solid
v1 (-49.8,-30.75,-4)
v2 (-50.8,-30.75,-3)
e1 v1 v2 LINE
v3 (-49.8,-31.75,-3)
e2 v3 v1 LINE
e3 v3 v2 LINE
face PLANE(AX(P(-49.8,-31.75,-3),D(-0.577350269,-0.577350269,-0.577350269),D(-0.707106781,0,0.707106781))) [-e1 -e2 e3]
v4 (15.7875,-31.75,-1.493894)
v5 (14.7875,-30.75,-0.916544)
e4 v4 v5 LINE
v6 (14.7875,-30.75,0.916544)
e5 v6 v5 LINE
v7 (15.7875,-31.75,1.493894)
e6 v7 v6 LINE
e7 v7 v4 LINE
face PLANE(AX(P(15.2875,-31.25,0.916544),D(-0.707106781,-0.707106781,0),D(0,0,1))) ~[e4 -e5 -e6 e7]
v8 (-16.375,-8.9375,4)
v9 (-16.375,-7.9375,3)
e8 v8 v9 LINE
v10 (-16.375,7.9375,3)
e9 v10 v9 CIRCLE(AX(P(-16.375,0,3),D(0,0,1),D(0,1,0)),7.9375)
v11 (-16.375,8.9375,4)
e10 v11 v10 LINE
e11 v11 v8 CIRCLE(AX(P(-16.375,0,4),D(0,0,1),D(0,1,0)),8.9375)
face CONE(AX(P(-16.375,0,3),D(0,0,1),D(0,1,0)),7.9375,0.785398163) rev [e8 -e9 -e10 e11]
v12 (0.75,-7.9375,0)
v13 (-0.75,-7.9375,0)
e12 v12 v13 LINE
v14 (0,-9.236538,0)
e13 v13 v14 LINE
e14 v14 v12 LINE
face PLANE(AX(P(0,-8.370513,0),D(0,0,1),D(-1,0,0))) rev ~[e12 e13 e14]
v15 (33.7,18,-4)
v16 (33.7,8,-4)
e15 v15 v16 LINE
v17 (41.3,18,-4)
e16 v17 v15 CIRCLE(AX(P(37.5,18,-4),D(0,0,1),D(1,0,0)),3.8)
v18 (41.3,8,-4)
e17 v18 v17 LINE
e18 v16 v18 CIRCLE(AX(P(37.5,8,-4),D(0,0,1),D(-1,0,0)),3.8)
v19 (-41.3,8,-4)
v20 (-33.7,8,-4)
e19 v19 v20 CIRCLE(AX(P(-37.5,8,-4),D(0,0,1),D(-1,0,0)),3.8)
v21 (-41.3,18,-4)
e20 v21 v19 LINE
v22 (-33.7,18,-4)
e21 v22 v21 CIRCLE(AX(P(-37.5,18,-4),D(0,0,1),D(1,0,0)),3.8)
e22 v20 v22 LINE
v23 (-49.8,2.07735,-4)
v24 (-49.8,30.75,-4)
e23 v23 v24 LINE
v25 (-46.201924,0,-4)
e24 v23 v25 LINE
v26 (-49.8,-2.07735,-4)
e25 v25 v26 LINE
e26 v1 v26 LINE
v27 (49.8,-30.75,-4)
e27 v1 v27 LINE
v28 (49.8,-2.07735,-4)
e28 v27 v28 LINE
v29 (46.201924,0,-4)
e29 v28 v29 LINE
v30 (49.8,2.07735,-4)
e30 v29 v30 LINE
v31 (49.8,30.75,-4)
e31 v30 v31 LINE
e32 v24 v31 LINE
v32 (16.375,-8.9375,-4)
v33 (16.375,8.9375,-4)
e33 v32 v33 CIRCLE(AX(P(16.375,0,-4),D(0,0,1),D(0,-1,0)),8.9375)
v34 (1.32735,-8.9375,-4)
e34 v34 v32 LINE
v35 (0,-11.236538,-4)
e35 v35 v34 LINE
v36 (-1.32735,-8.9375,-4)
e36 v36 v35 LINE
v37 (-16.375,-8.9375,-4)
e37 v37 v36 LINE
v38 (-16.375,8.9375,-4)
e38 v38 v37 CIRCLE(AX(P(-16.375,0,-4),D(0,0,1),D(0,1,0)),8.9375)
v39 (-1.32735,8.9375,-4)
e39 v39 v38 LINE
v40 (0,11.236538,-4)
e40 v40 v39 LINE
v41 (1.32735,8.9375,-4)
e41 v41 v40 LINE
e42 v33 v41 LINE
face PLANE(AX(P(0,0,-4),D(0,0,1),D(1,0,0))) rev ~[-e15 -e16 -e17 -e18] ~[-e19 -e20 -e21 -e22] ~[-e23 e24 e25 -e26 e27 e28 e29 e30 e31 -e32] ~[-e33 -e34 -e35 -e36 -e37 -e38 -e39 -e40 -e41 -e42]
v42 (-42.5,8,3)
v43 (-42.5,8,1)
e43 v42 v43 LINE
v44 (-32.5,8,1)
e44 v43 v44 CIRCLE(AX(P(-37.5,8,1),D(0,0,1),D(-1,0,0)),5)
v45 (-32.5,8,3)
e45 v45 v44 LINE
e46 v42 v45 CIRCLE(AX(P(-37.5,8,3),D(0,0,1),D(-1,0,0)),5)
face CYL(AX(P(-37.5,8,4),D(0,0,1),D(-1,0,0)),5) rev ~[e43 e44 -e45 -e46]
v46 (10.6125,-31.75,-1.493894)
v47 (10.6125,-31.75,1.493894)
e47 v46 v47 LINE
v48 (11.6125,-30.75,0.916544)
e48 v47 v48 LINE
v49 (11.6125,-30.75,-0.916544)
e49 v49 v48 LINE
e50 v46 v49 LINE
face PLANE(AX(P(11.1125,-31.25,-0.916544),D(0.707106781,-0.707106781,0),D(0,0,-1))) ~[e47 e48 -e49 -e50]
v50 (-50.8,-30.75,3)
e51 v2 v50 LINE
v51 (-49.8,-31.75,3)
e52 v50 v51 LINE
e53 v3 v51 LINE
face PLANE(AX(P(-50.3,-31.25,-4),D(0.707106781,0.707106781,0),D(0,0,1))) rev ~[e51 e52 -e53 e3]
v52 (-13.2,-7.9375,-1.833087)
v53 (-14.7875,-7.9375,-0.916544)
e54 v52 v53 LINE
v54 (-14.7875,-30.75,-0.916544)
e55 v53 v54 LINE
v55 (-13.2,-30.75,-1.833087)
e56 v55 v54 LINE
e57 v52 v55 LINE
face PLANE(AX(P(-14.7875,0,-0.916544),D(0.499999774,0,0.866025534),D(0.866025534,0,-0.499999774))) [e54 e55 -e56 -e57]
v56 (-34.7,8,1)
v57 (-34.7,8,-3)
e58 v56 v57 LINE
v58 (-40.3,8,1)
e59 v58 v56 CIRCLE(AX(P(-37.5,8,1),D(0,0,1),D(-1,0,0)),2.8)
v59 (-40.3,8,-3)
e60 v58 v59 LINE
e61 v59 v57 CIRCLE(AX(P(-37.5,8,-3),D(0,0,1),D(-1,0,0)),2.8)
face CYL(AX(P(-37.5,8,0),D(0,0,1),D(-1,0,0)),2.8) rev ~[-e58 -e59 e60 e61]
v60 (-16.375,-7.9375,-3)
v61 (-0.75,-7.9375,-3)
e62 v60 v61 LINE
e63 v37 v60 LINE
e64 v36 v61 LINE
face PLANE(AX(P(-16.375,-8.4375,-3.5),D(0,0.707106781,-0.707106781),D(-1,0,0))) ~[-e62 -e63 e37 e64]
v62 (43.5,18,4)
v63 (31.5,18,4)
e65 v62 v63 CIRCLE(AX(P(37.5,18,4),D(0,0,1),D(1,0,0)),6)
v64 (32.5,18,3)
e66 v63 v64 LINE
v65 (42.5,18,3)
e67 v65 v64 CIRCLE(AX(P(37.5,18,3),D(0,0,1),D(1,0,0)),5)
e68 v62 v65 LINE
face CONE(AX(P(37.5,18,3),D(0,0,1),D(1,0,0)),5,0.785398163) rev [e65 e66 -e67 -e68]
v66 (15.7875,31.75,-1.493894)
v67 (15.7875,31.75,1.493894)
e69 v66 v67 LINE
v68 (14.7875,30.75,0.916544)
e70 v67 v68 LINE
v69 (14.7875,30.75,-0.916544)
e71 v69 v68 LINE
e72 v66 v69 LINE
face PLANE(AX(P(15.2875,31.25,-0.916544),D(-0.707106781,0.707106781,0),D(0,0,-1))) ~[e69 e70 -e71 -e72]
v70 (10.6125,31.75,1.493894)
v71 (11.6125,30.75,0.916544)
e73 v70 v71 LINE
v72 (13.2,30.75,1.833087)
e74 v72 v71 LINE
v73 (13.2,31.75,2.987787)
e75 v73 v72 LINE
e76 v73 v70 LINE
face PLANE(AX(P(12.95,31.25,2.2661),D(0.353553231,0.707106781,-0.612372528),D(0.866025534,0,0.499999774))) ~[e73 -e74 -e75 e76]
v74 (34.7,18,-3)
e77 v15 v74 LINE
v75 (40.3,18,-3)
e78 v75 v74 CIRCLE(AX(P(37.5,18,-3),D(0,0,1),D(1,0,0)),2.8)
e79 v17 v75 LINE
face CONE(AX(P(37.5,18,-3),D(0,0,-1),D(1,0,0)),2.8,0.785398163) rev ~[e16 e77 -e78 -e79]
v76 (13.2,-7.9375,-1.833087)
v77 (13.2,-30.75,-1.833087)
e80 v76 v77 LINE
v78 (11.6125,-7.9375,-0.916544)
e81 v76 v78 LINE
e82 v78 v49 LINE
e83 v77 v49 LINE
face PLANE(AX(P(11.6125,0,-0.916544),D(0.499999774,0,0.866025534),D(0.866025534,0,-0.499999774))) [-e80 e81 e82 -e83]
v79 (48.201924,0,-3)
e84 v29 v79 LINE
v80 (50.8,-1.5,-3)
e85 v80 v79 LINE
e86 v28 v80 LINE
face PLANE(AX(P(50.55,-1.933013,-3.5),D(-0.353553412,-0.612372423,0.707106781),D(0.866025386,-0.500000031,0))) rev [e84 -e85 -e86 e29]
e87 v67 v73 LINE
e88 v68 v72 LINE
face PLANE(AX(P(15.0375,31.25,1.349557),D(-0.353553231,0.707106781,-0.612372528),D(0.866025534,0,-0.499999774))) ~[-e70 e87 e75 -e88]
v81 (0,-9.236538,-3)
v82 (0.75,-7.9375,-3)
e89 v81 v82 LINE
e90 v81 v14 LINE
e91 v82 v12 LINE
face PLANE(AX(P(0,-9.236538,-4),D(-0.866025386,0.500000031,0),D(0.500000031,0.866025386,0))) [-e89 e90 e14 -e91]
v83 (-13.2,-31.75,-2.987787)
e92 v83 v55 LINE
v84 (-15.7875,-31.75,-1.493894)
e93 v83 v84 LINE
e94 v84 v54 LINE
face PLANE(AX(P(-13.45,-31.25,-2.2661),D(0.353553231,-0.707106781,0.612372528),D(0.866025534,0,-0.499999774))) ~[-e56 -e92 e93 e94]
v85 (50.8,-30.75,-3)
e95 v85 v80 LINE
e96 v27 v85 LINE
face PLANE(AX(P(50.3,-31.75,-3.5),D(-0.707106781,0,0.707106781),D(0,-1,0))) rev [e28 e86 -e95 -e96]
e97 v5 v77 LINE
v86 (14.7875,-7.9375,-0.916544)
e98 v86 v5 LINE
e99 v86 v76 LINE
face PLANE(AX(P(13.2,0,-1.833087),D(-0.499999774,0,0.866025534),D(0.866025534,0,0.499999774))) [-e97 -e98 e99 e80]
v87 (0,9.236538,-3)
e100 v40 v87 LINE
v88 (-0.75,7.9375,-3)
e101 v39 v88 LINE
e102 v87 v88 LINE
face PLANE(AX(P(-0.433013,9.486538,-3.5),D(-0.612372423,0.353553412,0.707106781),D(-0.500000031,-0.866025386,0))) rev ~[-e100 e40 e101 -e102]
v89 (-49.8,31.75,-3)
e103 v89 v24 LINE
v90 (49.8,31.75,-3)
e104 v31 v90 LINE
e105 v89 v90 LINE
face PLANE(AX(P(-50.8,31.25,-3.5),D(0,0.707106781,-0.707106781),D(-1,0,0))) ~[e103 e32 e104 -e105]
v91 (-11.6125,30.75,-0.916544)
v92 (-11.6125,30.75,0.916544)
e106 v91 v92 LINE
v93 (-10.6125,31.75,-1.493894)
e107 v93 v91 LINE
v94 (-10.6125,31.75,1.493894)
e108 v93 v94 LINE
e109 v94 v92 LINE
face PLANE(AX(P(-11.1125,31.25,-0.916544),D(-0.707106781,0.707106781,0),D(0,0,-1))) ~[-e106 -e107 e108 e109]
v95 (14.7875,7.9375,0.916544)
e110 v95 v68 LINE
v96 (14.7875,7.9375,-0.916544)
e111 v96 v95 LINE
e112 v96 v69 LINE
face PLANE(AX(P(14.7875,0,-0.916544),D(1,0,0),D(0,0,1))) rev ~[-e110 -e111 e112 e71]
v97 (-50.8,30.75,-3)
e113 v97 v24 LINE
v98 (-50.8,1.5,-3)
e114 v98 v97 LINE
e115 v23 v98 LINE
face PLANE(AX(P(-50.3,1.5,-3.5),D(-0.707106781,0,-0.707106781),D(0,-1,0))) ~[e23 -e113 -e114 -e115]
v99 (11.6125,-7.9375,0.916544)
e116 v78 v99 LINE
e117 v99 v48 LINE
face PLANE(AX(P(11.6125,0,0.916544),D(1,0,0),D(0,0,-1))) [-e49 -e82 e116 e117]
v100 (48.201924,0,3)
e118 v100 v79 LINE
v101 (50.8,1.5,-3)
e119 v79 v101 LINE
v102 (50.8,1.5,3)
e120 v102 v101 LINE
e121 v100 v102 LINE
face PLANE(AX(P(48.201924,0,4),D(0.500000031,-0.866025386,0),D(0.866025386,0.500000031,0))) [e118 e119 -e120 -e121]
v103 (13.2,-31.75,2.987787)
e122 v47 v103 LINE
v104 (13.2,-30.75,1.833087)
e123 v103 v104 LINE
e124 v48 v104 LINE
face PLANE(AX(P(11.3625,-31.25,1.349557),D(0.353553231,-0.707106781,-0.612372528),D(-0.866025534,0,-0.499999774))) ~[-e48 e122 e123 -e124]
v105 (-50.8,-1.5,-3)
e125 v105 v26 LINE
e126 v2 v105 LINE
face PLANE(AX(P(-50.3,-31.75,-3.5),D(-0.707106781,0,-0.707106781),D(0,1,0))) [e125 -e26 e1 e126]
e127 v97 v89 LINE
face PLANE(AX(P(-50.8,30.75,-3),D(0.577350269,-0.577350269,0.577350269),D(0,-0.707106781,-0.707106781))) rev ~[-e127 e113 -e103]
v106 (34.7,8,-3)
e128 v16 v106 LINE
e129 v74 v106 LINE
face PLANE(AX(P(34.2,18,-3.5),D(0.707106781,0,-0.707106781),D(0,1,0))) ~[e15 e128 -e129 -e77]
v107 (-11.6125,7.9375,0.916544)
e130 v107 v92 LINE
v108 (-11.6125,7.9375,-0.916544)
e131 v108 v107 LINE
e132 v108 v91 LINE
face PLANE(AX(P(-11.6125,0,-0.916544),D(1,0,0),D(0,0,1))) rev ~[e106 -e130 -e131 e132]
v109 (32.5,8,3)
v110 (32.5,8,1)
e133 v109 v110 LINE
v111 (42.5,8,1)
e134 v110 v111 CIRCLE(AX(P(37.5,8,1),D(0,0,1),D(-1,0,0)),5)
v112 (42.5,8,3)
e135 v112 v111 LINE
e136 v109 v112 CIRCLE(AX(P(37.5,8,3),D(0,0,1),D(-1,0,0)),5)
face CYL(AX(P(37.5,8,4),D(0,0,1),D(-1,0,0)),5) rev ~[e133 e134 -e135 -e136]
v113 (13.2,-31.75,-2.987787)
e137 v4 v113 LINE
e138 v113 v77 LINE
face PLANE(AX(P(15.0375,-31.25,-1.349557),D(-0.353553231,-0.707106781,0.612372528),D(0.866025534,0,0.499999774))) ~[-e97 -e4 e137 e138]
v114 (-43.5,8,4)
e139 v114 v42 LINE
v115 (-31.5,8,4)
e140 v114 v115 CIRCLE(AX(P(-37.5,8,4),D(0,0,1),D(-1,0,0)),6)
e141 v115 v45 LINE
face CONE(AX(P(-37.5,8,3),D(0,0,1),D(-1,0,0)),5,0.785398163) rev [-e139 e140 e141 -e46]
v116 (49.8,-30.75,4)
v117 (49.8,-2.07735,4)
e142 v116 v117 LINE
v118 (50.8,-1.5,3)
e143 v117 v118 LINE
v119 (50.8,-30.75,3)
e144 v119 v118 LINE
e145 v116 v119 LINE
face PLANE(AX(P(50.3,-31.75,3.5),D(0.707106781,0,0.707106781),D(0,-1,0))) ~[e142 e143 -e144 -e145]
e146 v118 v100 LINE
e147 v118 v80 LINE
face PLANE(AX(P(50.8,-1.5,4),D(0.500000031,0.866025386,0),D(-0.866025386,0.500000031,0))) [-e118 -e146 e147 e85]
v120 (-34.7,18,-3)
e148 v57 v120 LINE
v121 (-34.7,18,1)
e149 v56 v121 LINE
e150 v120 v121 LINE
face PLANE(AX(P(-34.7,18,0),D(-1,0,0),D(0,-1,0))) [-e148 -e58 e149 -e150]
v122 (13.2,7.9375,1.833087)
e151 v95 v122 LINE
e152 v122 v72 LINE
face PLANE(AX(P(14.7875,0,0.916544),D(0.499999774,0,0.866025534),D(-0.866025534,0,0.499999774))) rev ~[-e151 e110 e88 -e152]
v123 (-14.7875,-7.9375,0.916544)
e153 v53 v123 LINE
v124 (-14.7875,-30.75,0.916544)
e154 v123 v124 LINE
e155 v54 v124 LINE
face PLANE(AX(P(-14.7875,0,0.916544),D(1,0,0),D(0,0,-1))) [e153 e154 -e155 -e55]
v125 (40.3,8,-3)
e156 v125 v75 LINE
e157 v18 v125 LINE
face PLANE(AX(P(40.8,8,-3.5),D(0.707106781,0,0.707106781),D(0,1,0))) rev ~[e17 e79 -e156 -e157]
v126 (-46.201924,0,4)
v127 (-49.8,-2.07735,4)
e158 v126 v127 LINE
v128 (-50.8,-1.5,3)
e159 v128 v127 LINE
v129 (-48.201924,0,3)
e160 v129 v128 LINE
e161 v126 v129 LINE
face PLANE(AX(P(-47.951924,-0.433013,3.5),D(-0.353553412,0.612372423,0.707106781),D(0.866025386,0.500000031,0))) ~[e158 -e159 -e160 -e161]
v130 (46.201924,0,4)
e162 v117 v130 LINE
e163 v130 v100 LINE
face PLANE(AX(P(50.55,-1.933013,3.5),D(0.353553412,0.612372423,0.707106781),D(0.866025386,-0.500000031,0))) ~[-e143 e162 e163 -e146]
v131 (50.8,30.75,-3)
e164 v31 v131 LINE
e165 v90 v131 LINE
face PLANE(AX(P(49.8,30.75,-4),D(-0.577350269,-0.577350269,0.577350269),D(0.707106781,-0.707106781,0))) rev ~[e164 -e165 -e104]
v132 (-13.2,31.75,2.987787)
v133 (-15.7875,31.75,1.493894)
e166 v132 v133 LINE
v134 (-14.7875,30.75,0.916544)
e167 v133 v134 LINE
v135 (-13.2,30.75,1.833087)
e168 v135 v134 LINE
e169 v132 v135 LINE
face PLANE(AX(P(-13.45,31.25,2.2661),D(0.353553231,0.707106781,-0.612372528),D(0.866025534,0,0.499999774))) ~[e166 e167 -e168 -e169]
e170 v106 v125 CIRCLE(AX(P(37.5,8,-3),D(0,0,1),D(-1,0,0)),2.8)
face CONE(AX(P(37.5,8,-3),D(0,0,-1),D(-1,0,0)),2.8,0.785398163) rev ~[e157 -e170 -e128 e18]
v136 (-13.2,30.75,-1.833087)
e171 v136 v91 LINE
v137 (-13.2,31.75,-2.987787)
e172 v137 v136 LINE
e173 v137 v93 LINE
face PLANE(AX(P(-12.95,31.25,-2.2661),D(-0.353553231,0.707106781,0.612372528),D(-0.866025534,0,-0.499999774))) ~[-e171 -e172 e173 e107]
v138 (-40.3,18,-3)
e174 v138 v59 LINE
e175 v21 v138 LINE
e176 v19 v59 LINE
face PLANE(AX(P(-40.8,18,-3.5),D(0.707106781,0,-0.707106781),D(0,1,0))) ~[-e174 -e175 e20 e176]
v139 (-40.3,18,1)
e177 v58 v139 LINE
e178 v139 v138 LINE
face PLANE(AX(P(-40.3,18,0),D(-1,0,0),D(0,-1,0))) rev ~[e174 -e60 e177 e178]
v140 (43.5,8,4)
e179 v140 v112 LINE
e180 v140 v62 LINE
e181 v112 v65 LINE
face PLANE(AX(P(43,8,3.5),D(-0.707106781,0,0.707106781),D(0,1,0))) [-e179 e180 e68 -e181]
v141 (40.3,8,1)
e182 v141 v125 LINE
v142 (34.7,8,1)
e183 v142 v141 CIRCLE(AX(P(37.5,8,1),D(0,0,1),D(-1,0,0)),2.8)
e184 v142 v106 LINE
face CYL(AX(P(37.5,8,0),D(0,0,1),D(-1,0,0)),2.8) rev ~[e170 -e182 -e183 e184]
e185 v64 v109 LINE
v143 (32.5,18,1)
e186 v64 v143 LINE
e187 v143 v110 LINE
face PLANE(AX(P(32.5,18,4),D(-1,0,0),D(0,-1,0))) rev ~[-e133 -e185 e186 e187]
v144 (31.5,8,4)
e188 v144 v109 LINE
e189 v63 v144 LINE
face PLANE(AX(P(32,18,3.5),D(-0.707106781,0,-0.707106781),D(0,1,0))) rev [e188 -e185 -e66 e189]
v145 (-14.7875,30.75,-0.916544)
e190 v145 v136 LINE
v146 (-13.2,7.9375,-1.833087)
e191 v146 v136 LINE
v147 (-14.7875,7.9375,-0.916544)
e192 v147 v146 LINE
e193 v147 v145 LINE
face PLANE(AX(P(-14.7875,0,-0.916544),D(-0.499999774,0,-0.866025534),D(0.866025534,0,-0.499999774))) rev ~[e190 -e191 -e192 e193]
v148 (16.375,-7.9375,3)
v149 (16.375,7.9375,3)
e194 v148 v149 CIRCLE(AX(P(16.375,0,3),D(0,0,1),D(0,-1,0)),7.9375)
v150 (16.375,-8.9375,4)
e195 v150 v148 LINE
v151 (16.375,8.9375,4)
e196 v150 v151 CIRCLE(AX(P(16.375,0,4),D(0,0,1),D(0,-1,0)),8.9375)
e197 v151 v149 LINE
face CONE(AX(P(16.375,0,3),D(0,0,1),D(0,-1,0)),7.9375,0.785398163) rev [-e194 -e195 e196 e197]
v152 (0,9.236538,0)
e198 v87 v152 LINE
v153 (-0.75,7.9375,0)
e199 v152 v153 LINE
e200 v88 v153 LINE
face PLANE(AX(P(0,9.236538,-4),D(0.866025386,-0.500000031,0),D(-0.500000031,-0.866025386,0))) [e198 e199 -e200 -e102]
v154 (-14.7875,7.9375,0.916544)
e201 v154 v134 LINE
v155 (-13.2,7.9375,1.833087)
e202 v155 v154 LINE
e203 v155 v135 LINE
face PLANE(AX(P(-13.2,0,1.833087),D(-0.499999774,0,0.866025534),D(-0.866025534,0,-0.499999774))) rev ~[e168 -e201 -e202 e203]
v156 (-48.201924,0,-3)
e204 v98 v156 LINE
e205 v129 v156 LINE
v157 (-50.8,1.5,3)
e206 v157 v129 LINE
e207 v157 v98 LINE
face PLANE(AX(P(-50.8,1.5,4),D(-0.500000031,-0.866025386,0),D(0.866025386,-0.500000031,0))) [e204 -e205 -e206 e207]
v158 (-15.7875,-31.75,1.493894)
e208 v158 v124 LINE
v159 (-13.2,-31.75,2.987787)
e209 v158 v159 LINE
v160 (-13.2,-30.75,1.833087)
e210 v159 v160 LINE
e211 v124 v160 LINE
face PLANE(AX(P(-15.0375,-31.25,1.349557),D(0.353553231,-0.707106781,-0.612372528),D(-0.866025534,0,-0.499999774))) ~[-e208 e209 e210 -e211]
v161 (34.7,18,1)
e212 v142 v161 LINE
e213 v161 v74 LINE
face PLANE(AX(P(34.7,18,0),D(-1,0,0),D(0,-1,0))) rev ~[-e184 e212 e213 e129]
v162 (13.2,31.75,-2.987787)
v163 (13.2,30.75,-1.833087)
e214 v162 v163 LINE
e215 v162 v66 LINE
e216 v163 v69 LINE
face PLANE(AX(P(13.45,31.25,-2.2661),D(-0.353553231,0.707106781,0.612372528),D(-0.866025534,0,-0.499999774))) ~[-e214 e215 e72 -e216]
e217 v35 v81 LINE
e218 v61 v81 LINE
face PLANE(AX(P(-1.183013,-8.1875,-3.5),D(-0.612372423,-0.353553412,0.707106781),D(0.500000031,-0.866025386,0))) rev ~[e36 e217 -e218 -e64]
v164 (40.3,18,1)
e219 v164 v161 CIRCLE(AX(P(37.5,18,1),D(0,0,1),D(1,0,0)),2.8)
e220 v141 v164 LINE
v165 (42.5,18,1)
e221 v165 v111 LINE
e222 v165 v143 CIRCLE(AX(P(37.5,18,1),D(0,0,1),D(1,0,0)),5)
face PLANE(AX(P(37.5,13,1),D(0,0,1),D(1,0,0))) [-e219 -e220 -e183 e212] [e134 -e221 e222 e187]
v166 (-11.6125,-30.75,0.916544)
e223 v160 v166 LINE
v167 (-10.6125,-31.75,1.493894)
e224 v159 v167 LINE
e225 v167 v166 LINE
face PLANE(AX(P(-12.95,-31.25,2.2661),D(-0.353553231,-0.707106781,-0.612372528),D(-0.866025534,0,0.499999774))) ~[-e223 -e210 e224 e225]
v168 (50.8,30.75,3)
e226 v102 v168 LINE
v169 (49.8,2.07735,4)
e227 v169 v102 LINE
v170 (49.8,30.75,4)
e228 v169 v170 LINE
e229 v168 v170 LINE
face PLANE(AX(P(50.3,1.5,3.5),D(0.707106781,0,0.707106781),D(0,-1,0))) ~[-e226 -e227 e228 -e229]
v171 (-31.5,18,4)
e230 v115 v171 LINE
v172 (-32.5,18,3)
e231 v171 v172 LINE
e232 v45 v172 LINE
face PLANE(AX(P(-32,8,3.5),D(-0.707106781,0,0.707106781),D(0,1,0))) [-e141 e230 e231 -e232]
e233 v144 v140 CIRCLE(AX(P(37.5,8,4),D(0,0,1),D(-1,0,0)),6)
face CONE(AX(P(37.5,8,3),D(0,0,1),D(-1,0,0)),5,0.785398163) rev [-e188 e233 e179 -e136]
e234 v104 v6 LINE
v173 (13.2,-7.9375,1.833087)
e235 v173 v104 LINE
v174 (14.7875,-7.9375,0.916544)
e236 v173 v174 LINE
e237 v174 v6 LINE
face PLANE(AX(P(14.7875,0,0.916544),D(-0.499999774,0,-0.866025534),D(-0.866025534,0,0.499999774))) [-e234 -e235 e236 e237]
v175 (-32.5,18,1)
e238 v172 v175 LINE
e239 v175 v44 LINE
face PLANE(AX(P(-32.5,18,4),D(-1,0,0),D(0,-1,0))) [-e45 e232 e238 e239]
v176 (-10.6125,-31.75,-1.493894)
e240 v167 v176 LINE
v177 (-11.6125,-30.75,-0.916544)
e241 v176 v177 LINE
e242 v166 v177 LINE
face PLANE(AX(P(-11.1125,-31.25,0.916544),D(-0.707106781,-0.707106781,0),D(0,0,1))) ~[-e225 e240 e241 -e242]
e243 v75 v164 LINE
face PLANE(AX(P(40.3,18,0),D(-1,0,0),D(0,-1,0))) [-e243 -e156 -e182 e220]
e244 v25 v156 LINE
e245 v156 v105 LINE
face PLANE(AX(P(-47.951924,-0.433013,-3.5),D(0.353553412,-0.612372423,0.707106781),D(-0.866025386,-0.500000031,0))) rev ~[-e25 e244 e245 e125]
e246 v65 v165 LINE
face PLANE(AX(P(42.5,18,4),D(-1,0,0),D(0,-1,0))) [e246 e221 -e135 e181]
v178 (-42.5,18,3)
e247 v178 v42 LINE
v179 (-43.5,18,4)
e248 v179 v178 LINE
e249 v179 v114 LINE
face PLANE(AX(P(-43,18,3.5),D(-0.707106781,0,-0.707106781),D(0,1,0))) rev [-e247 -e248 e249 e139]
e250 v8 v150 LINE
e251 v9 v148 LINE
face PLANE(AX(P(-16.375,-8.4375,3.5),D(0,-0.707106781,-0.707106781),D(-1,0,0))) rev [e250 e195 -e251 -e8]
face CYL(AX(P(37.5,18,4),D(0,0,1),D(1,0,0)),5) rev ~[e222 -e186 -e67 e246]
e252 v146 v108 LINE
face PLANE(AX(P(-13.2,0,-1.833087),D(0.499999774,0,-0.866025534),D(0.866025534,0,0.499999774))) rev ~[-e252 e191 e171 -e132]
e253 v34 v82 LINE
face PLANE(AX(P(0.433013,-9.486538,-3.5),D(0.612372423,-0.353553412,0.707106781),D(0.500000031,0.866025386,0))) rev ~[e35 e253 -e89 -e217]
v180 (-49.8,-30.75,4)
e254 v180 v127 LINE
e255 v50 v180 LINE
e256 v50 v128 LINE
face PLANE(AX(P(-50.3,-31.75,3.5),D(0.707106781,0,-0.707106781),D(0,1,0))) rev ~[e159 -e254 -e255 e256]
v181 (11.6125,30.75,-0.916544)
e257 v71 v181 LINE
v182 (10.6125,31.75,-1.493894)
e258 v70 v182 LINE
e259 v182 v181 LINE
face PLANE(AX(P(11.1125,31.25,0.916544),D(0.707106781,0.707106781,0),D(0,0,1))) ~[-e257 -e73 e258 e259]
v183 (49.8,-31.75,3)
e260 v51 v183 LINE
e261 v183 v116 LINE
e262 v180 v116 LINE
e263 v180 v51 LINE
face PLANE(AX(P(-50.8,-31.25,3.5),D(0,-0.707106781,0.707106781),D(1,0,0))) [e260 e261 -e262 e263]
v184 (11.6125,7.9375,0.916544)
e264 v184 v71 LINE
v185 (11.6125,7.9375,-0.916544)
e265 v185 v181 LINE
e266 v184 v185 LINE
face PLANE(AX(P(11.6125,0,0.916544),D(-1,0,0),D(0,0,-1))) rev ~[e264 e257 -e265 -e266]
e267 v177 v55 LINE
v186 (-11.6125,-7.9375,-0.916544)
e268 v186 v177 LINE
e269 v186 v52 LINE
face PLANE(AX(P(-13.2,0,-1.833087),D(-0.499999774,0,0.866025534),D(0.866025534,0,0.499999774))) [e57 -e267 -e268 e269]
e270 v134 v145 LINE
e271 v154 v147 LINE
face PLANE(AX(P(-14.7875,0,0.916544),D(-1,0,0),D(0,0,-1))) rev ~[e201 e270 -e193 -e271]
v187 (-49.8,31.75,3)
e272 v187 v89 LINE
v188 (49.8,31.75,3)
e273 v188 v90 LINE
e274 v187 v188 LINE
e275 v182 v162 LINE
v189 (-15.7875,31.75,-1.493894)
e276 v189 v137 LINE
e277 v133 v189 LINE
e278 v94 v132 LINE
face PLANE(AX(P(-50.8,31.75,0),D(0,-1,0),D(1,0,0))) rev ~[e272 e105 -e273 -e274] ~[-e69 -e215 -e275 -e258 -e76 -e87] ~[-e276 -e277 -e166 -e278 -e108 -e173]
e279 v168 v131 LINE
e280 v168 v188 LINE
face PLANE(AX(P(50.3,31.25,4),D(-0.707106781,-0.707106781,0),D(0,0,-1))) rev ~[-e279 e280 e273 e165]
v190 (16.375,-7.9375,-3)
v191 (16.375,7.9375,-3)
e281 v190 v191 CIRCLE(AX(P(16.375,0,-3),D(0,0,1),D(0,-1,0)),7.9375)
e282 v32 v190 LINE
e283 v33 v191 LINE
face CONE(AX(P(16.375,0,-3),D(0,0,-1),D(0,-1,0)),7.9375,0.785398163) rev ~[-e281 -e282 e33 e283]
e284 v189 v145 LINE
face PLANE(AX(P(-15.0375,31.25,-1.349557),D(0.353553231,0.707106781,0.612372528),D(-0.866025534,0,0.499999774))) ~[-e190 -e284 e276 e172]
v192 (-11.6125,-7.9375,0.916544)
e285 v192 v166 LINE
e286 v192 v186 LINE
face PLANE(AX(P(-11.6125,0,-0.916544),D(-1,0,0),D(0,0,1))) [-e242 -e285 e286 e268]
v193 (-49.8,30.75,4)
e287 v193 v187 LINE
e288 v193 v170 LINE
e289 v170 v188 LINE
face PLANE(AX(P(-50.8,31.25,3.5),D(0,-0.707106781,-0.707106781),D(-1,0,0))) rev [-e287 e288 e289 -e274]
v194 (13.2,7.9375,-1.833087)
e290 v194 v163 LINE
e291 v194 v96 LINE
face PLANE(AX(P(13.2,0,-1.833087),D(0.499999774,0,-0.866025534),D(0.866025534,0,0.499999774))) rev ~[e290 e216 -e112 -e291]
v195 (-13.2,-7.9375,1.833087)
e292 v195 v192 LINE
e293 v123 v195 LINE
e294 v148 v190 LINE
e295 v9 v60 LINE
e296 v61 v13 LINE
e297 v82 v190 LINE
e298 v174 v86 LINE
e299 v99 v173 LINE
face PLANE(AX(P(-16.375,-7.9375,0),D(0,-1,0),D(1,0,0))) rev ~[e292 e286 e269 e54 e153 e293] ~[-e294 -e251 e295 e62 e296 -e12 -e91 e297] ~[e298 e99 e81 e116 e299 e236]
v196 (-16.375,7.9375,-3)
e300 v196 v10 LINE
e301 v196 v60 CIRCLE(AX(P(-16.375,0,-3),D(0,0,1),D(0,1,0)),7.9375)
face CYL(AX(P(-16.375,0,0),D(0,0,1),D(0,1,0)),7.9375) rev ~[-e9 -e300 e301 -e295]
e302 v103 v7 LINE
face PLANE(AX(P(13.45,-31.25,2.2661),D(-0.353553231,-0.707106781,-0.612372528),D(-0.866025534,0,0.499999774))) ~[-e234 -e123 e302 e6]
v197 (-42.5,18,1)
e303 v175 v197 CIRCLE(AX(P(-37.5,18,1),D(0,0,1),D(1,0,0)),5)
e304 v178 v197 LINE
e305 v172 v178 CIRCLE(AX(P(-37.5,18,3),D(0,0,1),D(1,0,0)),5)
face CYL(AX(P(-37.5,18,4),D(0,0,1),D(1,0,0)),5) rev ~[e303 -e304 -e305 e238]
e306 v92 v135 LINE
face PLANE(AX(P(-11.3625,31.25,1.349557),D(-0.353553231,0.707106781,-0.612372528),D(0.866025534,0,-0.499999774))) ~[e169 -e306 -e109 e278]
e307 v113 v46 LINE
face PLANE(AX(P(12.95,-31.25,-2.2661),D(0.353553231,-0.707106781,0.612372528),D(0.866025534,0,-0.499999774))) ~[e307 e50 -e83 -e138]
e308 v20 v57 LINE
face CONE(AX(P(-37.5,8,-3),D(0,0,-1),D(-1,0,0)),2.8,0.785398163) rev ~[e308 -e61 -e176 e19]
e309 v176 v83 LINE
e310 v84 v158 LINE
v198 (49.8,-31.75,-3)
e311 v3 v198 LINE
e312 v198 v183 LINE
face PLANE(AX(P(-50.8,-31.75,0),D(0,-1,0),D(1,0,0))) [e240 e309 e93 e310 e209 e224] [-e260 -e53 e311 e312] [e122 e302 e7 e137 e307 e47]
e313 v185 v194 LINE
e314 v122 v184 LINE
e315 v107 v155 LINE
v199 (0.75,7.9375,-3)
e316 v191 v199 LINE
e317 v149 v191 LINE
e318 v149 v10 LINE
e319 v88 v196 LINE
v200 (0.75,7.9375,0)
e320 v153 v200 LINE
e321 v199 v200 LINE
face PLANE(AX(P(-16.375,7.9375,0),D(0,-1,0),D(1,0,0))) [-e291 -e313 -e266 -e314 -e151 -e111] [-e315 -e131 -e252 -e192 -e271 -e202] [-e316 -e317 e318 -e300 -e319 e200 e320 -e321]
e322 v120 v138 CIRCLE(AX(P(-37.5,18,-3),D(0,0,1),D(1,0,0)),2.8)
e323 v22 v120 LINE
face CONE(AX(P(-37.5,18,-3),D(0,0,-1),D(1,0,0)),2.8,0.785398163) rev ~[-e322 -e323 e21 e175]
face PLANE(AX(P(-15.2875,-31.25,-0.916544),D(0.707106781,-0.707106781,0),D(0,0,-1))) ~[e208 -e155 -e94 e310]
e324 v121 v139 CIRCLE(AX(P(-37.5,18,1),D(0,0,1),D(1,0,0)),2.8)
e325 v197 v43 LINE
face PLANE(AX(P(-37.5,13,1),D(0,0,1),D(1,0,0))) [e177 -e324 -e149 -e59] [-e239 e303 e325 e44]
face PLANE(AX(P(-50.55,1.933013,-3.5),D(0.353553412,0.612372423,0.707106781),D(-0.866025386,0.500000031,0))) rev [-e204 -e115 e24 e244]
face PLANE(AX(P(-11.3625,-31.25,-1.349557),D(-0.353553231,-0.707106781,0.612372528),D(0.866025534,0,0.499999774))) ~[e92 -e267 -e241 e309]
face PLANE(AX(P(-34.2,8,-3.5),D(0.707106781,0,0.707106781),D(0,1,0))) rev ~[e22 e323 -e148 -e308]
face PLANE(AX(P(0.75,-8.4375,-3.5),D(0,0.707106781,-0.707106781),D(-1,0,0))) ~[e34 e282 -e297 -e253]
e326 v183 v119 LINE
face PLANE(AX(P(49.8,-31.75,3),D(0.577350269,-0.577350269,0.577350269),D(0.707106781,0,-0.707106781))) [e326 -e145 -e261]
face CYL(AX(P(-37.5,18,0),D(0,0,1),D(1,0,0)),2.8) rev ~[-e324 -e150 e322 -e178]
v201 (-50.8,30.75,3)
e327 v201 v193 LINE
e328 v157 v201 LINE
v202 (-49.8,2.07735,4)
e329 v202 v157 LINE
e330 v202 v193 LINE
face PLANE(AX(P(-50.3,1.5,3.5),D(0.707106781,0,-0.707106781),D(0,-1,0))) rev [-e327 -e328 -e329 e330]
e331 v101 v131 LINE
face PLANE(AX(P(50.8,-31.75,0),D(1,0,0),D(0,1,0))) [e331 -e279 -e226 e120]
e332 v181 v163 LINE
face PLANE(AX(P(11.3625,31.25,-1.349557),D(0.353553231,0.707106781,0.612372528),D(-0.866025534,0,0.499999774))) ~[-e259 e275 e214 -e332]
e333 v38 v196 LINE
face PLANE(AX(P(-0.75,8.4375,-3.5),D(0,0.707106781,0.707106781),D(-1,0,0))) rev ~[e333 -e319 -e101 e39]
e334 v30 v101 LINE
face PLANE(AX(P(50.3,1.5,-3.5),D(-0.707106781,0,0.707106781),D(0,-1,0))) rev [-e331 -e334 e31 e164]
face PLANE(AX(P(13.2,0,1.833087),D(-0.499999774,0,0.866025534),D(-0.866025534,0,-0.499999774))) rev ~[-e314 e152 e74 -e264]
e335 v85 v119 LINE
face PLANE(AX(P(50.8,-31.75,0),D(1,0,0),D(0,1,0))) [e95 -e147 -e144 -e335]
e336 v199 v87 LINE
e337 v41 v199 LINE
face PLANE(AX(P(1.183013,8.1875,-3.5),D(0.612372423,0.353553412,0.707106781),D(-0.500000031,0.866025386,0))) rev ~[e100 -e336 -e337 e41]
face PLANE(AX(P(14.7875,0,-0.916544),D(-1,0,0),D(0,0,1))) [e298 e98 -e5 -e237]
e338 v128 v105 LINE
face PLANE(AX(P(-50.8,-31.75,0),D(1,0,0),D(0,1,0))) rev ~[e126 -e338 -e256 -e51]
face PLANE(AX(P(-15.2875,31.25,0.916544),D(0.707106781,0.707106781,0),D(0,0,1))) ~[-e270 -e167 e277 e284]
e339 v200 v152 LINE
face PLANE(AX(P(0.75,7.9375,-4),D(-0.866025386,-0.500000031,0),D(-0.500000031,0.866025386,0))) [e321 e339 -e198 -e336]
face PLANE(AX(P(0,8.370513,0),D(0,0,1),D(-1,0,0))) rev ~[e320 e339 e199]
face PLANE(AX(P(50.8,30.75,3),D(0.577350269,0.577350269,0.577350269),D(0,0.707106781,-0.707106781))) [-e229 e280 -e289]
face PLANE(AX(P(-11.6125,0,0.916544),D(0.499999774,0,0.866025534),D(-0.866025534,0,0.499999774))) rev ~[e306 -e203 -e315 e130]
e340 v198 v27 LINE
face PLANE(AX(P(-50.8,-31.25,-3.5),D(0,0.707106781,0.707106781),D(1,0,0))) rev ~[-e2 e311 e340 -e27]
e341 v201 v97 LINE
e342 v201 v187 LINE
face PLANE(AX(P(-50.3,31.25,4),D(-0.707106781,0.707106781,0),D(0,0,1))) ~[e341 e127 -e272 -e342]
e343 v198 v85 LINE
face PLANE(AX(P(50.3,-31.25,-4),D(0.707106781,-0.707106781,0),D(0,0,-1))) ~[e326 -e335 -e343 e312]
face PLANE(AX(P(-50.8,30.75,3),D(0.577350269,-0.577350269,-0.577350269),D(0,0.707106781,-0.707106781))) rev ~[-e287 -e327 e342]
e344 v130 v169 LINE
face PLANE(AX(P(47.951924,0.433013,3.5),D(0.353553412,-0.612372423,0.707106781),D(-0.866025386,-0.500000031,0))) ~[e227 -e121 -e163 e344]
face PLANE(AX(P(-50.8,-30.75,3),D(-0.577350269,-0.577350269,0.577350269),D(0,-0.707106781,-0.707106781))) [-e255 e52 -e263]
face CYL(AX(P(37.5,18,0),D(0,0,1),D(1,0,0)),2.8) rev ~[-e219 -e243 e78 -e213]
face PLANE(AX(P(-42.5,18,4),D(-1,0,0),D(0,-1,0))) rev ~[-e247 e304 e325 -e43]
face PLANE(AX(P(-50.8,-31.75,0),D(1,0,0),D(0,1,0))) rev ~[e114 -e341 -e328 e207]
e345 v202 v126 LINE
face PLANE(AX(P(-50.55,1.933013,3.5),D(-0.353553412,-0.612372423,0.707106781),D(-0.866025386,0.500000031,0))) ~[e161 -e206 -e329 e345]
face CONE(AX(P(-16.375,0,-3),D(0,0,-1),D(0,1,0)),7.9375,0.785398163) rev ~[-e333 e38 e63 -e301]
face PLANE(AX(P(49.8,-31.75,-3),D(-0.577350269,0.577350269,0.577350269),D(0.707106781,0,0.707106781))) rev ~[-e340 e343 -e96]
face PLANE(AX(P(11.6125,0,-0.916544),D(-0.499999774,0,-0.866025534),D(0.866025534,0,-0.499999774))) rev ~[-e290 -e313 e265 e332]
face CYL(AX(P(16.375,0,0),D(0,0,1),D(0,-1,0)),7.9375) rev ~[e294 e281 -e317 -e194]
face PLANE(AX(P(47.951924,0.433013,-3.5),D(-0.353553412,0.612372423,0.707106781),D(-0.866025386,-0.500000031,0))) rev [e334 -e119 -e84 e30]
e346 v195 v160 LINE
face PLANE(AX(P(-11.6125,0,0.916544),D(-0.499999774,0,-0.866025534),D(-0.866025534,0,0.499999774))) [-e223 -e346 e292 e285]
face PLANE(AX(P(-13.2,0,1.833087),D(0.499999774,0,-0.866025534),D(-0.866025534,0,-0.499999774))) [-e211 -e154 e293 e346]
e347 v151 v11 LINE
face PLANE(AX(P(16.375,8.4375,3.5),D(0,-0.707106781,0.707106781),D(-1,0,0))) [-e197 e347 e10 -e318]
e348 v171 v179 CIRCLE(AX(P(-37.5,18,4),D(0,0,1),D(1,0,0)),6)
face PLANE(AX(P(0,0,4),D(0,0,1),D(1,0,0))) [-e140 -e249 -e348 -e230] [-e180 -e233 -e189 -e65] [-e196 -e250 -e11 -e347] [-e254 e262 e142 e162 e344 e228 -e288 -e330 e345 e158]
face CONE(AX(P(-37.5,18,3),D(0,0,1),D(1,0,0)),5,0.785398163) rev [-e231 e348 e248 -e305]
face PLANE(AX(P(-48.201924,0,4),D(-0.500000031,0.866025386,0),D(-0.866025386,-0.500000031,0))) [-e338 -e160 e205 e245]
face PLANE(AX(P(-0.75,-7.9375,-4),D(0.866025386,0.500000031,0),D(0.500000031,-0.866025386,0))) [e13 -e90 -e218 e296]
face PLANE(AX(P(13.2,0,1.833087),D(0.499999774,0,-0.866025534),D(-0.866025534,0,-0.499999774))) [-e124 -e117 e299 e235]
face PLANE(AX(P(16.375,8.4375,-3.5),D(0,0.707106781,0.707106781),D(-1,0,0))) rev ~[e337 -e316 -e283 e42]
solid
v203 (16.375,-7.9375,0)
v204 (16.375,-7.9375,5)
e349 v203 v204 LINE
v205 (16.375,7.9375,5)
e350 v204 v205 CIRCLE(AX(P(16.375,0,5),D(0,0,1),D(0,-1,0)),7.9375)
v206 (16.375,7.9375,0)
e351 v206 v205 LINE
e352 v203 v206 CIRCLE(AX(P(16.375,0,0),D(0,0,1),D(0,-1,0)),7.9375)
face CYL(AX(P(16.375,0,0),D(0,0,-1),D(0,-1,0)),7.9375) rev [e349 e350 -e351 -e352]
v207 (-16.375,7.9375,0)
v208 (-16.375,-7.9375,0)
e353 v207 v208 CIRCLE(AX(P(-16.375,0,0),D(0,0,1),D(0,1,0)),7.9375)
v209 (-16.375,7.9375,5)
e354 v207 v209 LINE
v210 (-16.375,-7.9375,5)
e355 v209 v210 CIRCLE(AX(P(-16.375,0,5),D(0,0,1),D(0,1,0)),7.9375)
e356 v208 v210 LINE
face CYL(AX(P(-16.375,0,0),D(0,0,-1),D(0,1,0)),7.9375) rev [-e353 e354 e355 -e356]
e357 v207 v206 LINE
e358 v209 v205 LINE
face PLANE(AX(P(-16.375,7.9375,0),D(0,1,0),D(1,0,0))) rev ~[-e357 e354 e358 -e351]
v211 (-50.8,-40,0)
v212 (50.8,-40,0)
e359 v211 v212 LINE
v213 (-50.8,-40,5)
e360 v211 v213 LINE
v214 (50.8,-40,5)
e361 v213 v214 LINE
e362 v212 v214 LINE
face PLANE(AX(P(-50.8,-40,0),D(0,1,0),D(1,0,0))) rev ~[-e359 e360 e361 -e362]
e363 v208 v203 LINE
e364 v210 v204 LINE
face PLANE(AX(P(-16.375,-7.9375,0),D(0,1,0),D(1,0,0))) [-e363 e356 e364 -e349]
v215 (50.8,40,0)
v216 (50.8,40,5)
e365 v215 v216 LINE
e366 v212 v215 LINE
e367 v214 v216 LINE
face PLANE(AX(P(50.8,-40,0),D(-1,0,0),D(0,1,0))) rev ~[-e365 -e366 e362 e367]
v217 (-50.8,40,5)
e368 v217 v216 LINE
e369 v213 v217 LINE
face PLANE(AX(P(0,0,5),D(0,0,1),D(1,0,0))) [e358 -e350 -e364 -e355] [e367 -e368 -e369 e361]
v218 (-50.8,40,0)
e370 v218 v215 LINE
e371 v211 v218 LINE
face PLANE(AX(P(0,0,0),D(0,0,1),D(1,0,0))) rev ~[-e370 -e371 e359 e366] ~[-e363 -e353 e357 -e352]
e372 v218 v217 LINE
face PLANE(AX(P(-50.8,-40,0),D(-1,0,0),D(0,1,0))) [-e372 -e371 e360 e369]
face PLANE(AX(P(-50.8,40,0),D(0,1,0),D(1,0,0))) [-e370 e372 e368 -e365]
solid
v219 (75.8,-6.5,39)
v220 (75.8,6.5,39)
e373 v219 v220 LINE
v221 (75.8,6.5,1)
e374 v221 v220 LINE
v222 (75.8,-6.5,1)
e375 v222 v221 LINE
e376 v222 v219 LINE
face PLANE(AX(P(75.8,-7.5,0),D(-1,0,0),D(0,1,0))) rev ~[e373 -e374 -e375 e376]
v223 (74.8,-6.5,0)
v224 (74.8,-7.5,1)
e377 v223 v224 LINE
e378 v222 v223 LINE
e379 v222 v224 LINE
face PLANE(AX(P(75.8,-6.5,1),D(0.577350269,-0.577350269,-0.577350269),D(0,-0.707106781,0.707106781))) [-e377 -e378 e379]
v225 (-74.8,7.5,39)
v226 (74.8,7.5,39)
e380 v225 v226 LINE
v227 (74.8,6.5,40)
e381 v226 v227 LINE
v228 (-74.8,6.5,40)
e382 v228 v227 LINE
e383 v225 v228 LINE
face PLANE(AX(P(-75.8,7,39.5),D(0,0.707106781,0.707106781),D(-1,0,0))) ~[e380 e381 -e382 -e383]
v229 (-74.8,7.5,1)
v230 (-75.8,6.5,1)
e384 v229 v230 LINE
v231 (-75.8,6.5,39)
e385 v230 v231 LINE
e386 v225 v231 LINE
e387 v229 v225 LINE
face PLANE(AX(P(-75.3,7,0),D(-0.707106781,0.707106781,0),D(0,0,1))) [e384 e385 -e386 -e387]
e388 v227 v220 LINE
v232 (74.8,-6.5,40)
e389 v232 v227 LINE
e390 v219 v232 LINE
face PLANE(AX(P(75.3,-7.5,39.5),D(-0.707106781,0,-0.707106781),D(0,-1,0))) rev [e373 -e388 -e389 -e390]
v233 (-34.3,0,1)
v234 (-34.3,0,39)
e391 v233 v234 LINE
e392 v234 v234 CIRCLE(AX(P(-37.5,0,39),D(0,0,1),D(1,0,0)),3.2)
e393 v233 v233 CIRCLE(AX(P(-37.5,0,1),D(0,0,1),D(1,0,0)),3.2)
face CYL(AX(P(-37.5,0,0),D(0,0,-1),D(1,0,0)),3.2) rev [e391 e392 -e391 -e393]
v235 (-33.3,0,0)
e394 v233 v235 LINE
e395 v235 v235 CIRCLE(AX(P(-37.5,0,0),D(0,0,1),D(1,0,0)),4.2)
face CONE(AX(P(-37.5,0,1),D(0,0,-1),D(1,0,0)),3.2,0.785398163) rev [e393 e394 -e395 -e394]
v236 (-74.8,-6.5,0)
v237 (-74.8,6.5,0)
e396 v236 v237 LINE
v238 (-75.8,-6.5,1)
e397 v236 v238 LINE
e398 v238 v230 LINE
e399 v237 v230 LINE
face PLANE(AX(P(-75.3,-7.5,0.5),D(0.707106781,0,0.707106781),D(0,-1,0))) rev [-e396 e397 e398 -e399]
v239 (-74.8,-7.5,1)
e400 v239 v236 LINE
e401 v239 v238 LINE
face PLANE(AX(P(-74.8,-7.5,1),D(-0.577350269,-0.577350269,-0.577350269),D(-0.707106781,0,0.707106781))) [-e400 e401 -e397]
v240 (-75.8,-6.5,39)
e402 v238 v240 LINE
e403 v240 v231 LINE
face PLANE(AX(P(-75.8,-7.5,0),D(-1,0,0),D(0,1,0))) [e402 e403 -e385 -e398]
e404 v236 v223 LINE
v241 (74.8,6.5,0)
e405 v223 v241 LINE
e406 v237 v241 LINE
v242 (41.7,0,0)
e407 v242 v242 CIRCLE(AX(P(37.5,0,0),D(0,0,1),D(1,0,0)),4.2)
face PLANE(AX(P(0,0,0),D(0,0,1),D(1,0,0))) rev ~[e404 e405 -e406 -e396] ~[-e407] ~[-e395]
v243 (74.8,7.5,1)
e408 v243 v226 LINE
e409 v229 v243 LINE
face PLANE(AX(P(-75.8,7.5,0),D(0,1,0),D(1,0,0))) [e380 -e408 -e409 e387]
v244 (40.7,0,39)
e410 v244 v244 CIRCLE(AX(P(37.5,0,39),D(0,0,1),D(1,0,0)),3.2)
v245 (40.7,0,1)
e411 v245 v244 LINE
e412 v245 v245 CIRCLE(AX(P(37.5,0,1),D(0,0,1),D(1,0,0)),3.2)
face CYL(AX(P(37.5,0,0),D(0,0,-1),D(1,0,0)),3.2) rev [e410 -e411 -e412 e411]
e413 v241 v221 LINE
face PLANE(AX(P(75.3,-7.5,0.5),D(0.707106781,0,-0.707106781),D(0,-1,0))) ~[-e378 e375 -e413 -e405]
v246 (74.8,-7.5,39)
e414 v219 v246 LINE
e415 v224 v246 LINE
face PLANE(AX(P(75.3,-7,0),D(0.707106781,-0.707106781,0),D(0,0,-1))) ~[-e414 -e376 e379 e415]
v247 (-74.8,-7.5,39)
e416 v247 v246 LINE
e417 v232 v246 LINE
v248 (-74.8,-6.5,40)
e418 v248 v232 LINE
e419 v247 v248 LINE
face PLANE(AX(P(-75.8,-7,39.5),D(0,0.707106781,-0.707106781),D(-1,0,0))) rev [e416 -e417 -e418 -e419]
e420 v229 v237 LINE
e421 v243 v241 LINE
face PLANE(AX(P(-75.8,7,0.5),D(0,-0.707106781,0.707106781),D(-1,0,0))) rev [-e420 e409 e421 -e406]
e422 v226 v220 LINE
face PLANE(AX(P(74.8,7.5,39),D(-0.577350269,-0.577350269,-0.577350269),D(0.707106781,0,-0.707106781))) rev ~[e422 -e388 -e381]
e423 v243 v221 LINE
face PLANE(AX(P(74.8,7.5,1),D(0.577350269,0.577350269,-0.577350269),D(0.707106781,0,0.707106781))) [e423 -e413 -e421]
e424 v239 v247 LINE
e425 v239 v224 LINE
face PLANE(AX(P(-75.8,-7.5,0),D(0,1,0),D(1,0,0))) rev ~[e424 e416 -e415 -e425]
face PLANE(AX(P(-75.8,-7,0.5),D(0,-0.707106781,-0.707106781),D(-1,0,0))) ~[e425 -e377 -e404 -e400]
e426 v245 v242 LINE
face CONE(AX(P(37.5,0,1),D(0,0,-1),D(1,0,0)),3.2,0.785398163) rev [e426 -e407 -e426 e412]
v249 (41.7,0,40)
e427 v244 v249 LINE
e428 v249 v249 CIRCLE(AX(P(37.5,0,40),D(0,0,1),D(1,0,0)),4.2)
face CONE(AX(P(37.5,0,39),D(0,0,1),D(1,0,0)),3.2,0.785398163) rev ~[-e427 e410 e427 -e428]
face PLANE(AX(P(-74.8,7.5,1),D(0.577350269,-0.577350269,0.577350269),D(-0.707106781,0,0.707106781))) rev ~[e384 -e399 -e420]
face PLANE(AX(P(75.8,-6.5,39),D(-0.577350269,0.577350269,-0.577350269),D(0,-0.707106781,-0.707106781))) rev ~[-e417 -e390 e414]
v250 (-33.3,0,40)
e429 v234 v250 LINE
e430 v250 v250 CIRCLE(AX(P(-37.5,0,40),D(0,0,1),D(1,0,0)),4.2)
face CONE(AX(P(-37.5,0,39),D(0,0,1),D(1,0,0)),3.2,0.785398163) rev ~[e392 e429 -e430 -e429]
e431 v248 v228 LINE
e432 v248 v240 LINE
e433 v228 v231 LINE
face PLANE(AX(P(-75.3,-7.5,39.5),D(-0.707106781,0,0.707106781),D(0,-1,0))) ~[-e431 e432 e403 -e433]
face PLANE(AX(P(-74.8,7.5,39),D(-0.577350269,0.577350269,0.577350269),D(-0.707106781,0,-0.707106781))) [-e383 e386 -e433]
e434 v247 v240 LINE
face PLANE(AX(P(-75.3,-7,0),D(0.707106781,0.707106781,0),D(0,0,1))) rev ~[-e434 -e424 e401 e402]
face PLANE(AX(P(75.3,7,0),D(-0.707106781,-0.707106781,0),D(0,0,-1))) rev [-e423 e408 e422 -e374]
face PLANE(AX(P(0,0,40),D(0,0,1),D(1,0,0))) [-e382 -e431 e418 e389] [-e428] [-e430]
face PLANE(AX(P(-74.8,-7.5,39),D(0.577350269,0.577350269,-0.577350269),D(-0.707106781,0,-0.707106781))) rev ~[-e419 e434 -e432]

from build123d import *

# Parameters (mm, degrees)
SKETCH002_W          = 101.6
SKETCH002_H          = 80
PAD_DEPTH            = 5
SKETCH005_W          = 101.6
SKETCH005_H          = 63.5
PAD001_DEPTH         = 4
POCKET_DEPTH         = 31.751
POCKET_DEPTH_BACK    = -31.751
POCKET001_DEPTH      = 4.001
POCKET001_DEPTH_BACK = -4.001
POCKET002_DEPTH      = 3
POCKET003_DEPTH      = 8.001
POCKET004_DEPTH      = 4
CHAMFER003_SIZE      = 1
SKETCH009_W          = 151.6
SKETCH009_H          = 15
SKETCH009_R          = 3.2
PAD002_DEPTH         = 40
CHAMFER002_SIZE      = 1


with BuildPart() as test:
    # Sketch002 → Pad (new body)
    with BuildSketch(Plane.XY):
        Rectangle(SKETCH002_W, SKETCH002_H)
        with BuildLine():
            ThreePointArc((-16.375, 7.9375), (-24.3125, 0), (-16.375, -7.9375))
            Line((-16.375, -7.9375), (16.375, -7.9375))
            ThreePointArc((16.375, -7.9375), (24.3125, 0), (16.375, 7.9375))
            Line((-16.375, 7.9375), (16.375, 7.9375))
        make_face(mode=Mode.SUBTRACT)
    extrude(amount=PAD_DEPTH)


with BuildPart() as plate:
    # Sketch005 → Pad001 (new body, symmetric)
    with BuildSketch(Plane.XY):
        Rectangle(SKETCH005_W, SKETCH005_H)
        with BuildLine():
            ThreePointArc((-16.375, 7.9375), (-24.3125, 0), (-16.375, -7.9375))
            Line((-16.375, -7.9375), (16.375, -7.9375))
            ThreePointArc((16.375, -7.9375), (24.3125, 0), (16.375, 7.9375))
            Line((-16.375, 7.9375), (16.375, 7.9375))
        make_face(mode=Mode.SUBTRACT)
    extrude(amount=PAD001_DEPTH, both=True)

    # Sketch006 → Pocket (cut, two sides)
    with BuildSketch(Plane.XZ) as pocket_sk:
        Polygon((-11.6125, -0.916544), (-11.6125, 0.916544), (-13.2, 1.833087), (-14.7875, 0.916544), (-14.7875, -0.916544), (-13.2, -1.833087), align=None)
        Polygon((13.2, -1.833087), (14.7875, -0.916544), (14.7875, 0.916544), (13.2, 1.833087), (11.6125, 0.916544), (11.6125, -0.916544), align=None)
    extrude(amount=-POCKET_DEPTH, mode=Mode.SUBTRACT)
    extrude(pocket_sk.sketch, amount=-POCKET_DEPTH_BACK, mode=Mode.SUBTRACT)

    # Sketch007 → Pocket001 (cut, two sides)
    with BuildSketch(Plane.XY) as pocket001_sk:
        with BuildLine():
            ThreePointArc((-34.7, 18), (-37.5, 20.8), (-40.3, 18))
            Line((-40.3, 18), (-40.3, 8))
            ThreePointArc((-40.3, 8), (-37.5, 5.2), (-34.7, 8))
            Line((-34.7, 18), (-34.7, 8))
        make_face()
        with BuildLine():
            ThreePointArc((40.3, 18), (37.5, 20.8), (34.7, 18))
            Line((34.7, 18), (34.7, 8))
            ThreePointArc((34.7, 8), (37.5, 5.2), (40.3, 8))
            Line((40.3, 18), (40.3, 8))
        make_face()
    extrude(amount=-POCKET001_DEPTH, mode=Mode.SUBTRACT)
    extrude(pocket001_sk.sketch, amount=-POCKET001_DEPTH_BACK, mode=Mode.SUBTRACT)

    # Sketch008 (on Face5 of Pocket001) → Pocket002 (cut)
    with BuildSketch(Plane.XY.offset(4)):
        with BuildLine():
            ThreePointArc((42.5, 18), (37.5, 23), (32.5, 18))
            Line((32.5, 18), (32.5, 8))
            ThreePointArc((32.5, 8), (37.5, 3), (42.5, 8))
            Line((42.5, 18), (42.5, 8))
        make_face()
        with BuildLine():
            ThreePointArc((-32.5, 18), (-37.5, 23), (-42.5, 18))
            Line((-42.5, 18), (-42.5, 8))
            ThreePointArc((-42.5, 8), (-37.5, 3), (-32.5, 8))
            Line((-32.5, 18), (-32.5, 8))
        make_face()
    extrude(amount=-POCKET002_DEPTH, mode=Mode.SUBTRACT)

    # Sketch010 (on Face5 of Pocket002) → Pocket003 (cut, through all)
    with BuildSketch(Plane.XY.offset(4)):
        Polygon((-50.8, 1.5), (-48.201924, 0), (-50.8, -1.5), align=None)
        Polygon((48.201924, 0), (50.8, 1.5), (50.8, -1.5), align=None)
    extrude(amount=-POCKET003_DEPTH, mode=Mode.SUBTRACT)

    # Sketch011 (on Face2 of Pocket003) → Pocket004 (cut)
    with BuildSketch(Plane(origin=(0, 0, -4), x_dir=(1, 0, 0), z_dir=(0, 0, -1))):
        Polygon((-0.75, 7.9375), (0, 9.236538), (0.75, 7.9375), align=None)
        Polygon((-0.75, -7.9375), (0.75, -7.9375), (0, -9.236538), align=None)
    extrude(amount=-POCKET004_DEPTH, mode=Mode.SUBTRACT)

    # Chamfer003
    chamfer003_edges = [plate.edges().sort_by_distance(p)[0] for p in [
        (0, 31.75, 4),
        (50.8, 16.625, 4),
        (49.500962, 0.75, 4),
        (49.500962, -0.75, 4),
        (50.8, -16.625, 4),
        (0, -31.75, 4),
        (-50.8, -16.625, 4),
        (-49.500962, -0.75, 4),
        (-49.500962, 0.75, 4),
        (-50.8, 16.625, 4),
        (-24.3125, 0, 4),
        (0, 7.9375, 4),
        (0, -7.9375, 4),
        (24.3125, 0, 4),
        (-37.5, 23, 4),
        (-32.5, 13, 4),
        (-42.5, 13, 4),
        (-37.5, 3, 4),
        (37.5, 23, 4),
        (42.5, 13, 4),
        (32.5, 13, 4),
        (37.5, 3, 4),
        (50.8, 31.75, 0),
        (0, 31.75, -4),
        (-50.8, 31.75, 0),
        (13.99375, 31.75, -1.374815),
        (14.7875, 31.75, 0),
        (13.99375, 31.75, 1.374815),
        (12.40625, 31.75, 1.374815),
        (11.6125, 31.75, 0),
        (12.40625, 31.75, -1.374815),
        (-11.6125, 31.75, 0),
        (-12.40625, 31.75, 1.374815),
        (-13.99375, 31.75, 1.374815),
        (-14.7875, 31.75, 0),
        (-13.99375, 31.75, -1.374815),
        (-12.40625, 31.75, -1.374815),
        (50.8, 16.625, -4),
        (-50.8, 16.625, -4),
        (49.500962, 0.75, -4),
        (-49.500962, 0.75, -4),
        (49.500962, -0.75, -4),
        (-49.500962, -0.75, -4),
        (50.8, -16.625, -4),
        (-50.8, -16.625, -4),
        (0, -31.75, -4),
        (-24.3125, 0, -4),
        (-8.5625, -7.9375, -4),
        (-0.375, -8.587019, -4),
        (0.375, -8.587019, -4),
        (8.5625, -7.9375, -4),
        (24.3125, 0, -4),
        (8.5625, 7.9375, -4),
        (0.375, 8.587019, -4),
        (-0.375, 8.587019, -4),
        (-8.5625, 7.9375, -4),
        (-37.5, 20.8, -4),
        (-34.7, 13, -4),
        (-40.3, 13, -4),
        (-37.5, 5.2, -4),
        (37.5, 20.8, -4),
        (40.3, 13, -4),
        (34.7, 13, -4),
        (37.5, 5.2, -4),
        (-50.8, -31.75, 0),
        (50.8, -31.75, 0),
        (-11.6125, -31.75, 0),
        (-12.40625, -31.75, -1.374815),
        (-13.99375, -31.75, -1.374815),
        (-14.7875, -31.75, 0),
        (-13.99375, -31.75, 1.374815),
        (-12.40625, -31.75, 1.374815),
        (13.99375, -31.75, -1.374815),
        (12.40625, -31.75, -1.374815),
        (11.6125, -31.75, 0),
        (12.40625, -31.75, 1.374815),
        (13.99375, -31.75, 1.374815),
        (14.7875, -31.75, 0),
    ]]
    chamfer(chamfer003_edges, length=CHAMFER003_SIZE)


with BuildPart() as fence:
    # Sketch009 → Pad002 (new body)
    with BuildSketch(Plane.XY):
        Rectangle(SKETCH009_W, SKETCH009_H)
        with Locations((-37.5, 0)):
            Circle(SKETCH009_R, mode=Mode.SUBTRACT)
        with Locations((37.5, 0)):
            Circle(SKETCH009_R, mode=Mode.SUBTRACT)
    extrude(amount=PAD002_DEPTH)

    # Chamfer002
    chamfer002_edges = [fence.edges().sort_by_distance(p)[0] for p in [
        (-75.8, 0, 40),
        (0, -7.5, 40),
        (75.8, 0, 40),
        (0, 7.5, 40),
        (34.3, 0, 40),
        (-40.7, 0, 40),
        (-75.8, 0, 0),
        (0, -7.5, 0),
        (75.8, 0, 0),
        (0, 7.5, 0),
        (34.3, 0, 0),
        (-40.7, 0, 0),
        (-75.8, 7.5, 20),
        (-75.8, -7.5, 20),
        (75.8, -7.5, 20),
        (75.8, 7.5, 20),
    ]]
    chamfer(chamfer002_edges, length=CHAMFER002_SIZE)


solid = Compound([test.part, plate.part, fence.part])
